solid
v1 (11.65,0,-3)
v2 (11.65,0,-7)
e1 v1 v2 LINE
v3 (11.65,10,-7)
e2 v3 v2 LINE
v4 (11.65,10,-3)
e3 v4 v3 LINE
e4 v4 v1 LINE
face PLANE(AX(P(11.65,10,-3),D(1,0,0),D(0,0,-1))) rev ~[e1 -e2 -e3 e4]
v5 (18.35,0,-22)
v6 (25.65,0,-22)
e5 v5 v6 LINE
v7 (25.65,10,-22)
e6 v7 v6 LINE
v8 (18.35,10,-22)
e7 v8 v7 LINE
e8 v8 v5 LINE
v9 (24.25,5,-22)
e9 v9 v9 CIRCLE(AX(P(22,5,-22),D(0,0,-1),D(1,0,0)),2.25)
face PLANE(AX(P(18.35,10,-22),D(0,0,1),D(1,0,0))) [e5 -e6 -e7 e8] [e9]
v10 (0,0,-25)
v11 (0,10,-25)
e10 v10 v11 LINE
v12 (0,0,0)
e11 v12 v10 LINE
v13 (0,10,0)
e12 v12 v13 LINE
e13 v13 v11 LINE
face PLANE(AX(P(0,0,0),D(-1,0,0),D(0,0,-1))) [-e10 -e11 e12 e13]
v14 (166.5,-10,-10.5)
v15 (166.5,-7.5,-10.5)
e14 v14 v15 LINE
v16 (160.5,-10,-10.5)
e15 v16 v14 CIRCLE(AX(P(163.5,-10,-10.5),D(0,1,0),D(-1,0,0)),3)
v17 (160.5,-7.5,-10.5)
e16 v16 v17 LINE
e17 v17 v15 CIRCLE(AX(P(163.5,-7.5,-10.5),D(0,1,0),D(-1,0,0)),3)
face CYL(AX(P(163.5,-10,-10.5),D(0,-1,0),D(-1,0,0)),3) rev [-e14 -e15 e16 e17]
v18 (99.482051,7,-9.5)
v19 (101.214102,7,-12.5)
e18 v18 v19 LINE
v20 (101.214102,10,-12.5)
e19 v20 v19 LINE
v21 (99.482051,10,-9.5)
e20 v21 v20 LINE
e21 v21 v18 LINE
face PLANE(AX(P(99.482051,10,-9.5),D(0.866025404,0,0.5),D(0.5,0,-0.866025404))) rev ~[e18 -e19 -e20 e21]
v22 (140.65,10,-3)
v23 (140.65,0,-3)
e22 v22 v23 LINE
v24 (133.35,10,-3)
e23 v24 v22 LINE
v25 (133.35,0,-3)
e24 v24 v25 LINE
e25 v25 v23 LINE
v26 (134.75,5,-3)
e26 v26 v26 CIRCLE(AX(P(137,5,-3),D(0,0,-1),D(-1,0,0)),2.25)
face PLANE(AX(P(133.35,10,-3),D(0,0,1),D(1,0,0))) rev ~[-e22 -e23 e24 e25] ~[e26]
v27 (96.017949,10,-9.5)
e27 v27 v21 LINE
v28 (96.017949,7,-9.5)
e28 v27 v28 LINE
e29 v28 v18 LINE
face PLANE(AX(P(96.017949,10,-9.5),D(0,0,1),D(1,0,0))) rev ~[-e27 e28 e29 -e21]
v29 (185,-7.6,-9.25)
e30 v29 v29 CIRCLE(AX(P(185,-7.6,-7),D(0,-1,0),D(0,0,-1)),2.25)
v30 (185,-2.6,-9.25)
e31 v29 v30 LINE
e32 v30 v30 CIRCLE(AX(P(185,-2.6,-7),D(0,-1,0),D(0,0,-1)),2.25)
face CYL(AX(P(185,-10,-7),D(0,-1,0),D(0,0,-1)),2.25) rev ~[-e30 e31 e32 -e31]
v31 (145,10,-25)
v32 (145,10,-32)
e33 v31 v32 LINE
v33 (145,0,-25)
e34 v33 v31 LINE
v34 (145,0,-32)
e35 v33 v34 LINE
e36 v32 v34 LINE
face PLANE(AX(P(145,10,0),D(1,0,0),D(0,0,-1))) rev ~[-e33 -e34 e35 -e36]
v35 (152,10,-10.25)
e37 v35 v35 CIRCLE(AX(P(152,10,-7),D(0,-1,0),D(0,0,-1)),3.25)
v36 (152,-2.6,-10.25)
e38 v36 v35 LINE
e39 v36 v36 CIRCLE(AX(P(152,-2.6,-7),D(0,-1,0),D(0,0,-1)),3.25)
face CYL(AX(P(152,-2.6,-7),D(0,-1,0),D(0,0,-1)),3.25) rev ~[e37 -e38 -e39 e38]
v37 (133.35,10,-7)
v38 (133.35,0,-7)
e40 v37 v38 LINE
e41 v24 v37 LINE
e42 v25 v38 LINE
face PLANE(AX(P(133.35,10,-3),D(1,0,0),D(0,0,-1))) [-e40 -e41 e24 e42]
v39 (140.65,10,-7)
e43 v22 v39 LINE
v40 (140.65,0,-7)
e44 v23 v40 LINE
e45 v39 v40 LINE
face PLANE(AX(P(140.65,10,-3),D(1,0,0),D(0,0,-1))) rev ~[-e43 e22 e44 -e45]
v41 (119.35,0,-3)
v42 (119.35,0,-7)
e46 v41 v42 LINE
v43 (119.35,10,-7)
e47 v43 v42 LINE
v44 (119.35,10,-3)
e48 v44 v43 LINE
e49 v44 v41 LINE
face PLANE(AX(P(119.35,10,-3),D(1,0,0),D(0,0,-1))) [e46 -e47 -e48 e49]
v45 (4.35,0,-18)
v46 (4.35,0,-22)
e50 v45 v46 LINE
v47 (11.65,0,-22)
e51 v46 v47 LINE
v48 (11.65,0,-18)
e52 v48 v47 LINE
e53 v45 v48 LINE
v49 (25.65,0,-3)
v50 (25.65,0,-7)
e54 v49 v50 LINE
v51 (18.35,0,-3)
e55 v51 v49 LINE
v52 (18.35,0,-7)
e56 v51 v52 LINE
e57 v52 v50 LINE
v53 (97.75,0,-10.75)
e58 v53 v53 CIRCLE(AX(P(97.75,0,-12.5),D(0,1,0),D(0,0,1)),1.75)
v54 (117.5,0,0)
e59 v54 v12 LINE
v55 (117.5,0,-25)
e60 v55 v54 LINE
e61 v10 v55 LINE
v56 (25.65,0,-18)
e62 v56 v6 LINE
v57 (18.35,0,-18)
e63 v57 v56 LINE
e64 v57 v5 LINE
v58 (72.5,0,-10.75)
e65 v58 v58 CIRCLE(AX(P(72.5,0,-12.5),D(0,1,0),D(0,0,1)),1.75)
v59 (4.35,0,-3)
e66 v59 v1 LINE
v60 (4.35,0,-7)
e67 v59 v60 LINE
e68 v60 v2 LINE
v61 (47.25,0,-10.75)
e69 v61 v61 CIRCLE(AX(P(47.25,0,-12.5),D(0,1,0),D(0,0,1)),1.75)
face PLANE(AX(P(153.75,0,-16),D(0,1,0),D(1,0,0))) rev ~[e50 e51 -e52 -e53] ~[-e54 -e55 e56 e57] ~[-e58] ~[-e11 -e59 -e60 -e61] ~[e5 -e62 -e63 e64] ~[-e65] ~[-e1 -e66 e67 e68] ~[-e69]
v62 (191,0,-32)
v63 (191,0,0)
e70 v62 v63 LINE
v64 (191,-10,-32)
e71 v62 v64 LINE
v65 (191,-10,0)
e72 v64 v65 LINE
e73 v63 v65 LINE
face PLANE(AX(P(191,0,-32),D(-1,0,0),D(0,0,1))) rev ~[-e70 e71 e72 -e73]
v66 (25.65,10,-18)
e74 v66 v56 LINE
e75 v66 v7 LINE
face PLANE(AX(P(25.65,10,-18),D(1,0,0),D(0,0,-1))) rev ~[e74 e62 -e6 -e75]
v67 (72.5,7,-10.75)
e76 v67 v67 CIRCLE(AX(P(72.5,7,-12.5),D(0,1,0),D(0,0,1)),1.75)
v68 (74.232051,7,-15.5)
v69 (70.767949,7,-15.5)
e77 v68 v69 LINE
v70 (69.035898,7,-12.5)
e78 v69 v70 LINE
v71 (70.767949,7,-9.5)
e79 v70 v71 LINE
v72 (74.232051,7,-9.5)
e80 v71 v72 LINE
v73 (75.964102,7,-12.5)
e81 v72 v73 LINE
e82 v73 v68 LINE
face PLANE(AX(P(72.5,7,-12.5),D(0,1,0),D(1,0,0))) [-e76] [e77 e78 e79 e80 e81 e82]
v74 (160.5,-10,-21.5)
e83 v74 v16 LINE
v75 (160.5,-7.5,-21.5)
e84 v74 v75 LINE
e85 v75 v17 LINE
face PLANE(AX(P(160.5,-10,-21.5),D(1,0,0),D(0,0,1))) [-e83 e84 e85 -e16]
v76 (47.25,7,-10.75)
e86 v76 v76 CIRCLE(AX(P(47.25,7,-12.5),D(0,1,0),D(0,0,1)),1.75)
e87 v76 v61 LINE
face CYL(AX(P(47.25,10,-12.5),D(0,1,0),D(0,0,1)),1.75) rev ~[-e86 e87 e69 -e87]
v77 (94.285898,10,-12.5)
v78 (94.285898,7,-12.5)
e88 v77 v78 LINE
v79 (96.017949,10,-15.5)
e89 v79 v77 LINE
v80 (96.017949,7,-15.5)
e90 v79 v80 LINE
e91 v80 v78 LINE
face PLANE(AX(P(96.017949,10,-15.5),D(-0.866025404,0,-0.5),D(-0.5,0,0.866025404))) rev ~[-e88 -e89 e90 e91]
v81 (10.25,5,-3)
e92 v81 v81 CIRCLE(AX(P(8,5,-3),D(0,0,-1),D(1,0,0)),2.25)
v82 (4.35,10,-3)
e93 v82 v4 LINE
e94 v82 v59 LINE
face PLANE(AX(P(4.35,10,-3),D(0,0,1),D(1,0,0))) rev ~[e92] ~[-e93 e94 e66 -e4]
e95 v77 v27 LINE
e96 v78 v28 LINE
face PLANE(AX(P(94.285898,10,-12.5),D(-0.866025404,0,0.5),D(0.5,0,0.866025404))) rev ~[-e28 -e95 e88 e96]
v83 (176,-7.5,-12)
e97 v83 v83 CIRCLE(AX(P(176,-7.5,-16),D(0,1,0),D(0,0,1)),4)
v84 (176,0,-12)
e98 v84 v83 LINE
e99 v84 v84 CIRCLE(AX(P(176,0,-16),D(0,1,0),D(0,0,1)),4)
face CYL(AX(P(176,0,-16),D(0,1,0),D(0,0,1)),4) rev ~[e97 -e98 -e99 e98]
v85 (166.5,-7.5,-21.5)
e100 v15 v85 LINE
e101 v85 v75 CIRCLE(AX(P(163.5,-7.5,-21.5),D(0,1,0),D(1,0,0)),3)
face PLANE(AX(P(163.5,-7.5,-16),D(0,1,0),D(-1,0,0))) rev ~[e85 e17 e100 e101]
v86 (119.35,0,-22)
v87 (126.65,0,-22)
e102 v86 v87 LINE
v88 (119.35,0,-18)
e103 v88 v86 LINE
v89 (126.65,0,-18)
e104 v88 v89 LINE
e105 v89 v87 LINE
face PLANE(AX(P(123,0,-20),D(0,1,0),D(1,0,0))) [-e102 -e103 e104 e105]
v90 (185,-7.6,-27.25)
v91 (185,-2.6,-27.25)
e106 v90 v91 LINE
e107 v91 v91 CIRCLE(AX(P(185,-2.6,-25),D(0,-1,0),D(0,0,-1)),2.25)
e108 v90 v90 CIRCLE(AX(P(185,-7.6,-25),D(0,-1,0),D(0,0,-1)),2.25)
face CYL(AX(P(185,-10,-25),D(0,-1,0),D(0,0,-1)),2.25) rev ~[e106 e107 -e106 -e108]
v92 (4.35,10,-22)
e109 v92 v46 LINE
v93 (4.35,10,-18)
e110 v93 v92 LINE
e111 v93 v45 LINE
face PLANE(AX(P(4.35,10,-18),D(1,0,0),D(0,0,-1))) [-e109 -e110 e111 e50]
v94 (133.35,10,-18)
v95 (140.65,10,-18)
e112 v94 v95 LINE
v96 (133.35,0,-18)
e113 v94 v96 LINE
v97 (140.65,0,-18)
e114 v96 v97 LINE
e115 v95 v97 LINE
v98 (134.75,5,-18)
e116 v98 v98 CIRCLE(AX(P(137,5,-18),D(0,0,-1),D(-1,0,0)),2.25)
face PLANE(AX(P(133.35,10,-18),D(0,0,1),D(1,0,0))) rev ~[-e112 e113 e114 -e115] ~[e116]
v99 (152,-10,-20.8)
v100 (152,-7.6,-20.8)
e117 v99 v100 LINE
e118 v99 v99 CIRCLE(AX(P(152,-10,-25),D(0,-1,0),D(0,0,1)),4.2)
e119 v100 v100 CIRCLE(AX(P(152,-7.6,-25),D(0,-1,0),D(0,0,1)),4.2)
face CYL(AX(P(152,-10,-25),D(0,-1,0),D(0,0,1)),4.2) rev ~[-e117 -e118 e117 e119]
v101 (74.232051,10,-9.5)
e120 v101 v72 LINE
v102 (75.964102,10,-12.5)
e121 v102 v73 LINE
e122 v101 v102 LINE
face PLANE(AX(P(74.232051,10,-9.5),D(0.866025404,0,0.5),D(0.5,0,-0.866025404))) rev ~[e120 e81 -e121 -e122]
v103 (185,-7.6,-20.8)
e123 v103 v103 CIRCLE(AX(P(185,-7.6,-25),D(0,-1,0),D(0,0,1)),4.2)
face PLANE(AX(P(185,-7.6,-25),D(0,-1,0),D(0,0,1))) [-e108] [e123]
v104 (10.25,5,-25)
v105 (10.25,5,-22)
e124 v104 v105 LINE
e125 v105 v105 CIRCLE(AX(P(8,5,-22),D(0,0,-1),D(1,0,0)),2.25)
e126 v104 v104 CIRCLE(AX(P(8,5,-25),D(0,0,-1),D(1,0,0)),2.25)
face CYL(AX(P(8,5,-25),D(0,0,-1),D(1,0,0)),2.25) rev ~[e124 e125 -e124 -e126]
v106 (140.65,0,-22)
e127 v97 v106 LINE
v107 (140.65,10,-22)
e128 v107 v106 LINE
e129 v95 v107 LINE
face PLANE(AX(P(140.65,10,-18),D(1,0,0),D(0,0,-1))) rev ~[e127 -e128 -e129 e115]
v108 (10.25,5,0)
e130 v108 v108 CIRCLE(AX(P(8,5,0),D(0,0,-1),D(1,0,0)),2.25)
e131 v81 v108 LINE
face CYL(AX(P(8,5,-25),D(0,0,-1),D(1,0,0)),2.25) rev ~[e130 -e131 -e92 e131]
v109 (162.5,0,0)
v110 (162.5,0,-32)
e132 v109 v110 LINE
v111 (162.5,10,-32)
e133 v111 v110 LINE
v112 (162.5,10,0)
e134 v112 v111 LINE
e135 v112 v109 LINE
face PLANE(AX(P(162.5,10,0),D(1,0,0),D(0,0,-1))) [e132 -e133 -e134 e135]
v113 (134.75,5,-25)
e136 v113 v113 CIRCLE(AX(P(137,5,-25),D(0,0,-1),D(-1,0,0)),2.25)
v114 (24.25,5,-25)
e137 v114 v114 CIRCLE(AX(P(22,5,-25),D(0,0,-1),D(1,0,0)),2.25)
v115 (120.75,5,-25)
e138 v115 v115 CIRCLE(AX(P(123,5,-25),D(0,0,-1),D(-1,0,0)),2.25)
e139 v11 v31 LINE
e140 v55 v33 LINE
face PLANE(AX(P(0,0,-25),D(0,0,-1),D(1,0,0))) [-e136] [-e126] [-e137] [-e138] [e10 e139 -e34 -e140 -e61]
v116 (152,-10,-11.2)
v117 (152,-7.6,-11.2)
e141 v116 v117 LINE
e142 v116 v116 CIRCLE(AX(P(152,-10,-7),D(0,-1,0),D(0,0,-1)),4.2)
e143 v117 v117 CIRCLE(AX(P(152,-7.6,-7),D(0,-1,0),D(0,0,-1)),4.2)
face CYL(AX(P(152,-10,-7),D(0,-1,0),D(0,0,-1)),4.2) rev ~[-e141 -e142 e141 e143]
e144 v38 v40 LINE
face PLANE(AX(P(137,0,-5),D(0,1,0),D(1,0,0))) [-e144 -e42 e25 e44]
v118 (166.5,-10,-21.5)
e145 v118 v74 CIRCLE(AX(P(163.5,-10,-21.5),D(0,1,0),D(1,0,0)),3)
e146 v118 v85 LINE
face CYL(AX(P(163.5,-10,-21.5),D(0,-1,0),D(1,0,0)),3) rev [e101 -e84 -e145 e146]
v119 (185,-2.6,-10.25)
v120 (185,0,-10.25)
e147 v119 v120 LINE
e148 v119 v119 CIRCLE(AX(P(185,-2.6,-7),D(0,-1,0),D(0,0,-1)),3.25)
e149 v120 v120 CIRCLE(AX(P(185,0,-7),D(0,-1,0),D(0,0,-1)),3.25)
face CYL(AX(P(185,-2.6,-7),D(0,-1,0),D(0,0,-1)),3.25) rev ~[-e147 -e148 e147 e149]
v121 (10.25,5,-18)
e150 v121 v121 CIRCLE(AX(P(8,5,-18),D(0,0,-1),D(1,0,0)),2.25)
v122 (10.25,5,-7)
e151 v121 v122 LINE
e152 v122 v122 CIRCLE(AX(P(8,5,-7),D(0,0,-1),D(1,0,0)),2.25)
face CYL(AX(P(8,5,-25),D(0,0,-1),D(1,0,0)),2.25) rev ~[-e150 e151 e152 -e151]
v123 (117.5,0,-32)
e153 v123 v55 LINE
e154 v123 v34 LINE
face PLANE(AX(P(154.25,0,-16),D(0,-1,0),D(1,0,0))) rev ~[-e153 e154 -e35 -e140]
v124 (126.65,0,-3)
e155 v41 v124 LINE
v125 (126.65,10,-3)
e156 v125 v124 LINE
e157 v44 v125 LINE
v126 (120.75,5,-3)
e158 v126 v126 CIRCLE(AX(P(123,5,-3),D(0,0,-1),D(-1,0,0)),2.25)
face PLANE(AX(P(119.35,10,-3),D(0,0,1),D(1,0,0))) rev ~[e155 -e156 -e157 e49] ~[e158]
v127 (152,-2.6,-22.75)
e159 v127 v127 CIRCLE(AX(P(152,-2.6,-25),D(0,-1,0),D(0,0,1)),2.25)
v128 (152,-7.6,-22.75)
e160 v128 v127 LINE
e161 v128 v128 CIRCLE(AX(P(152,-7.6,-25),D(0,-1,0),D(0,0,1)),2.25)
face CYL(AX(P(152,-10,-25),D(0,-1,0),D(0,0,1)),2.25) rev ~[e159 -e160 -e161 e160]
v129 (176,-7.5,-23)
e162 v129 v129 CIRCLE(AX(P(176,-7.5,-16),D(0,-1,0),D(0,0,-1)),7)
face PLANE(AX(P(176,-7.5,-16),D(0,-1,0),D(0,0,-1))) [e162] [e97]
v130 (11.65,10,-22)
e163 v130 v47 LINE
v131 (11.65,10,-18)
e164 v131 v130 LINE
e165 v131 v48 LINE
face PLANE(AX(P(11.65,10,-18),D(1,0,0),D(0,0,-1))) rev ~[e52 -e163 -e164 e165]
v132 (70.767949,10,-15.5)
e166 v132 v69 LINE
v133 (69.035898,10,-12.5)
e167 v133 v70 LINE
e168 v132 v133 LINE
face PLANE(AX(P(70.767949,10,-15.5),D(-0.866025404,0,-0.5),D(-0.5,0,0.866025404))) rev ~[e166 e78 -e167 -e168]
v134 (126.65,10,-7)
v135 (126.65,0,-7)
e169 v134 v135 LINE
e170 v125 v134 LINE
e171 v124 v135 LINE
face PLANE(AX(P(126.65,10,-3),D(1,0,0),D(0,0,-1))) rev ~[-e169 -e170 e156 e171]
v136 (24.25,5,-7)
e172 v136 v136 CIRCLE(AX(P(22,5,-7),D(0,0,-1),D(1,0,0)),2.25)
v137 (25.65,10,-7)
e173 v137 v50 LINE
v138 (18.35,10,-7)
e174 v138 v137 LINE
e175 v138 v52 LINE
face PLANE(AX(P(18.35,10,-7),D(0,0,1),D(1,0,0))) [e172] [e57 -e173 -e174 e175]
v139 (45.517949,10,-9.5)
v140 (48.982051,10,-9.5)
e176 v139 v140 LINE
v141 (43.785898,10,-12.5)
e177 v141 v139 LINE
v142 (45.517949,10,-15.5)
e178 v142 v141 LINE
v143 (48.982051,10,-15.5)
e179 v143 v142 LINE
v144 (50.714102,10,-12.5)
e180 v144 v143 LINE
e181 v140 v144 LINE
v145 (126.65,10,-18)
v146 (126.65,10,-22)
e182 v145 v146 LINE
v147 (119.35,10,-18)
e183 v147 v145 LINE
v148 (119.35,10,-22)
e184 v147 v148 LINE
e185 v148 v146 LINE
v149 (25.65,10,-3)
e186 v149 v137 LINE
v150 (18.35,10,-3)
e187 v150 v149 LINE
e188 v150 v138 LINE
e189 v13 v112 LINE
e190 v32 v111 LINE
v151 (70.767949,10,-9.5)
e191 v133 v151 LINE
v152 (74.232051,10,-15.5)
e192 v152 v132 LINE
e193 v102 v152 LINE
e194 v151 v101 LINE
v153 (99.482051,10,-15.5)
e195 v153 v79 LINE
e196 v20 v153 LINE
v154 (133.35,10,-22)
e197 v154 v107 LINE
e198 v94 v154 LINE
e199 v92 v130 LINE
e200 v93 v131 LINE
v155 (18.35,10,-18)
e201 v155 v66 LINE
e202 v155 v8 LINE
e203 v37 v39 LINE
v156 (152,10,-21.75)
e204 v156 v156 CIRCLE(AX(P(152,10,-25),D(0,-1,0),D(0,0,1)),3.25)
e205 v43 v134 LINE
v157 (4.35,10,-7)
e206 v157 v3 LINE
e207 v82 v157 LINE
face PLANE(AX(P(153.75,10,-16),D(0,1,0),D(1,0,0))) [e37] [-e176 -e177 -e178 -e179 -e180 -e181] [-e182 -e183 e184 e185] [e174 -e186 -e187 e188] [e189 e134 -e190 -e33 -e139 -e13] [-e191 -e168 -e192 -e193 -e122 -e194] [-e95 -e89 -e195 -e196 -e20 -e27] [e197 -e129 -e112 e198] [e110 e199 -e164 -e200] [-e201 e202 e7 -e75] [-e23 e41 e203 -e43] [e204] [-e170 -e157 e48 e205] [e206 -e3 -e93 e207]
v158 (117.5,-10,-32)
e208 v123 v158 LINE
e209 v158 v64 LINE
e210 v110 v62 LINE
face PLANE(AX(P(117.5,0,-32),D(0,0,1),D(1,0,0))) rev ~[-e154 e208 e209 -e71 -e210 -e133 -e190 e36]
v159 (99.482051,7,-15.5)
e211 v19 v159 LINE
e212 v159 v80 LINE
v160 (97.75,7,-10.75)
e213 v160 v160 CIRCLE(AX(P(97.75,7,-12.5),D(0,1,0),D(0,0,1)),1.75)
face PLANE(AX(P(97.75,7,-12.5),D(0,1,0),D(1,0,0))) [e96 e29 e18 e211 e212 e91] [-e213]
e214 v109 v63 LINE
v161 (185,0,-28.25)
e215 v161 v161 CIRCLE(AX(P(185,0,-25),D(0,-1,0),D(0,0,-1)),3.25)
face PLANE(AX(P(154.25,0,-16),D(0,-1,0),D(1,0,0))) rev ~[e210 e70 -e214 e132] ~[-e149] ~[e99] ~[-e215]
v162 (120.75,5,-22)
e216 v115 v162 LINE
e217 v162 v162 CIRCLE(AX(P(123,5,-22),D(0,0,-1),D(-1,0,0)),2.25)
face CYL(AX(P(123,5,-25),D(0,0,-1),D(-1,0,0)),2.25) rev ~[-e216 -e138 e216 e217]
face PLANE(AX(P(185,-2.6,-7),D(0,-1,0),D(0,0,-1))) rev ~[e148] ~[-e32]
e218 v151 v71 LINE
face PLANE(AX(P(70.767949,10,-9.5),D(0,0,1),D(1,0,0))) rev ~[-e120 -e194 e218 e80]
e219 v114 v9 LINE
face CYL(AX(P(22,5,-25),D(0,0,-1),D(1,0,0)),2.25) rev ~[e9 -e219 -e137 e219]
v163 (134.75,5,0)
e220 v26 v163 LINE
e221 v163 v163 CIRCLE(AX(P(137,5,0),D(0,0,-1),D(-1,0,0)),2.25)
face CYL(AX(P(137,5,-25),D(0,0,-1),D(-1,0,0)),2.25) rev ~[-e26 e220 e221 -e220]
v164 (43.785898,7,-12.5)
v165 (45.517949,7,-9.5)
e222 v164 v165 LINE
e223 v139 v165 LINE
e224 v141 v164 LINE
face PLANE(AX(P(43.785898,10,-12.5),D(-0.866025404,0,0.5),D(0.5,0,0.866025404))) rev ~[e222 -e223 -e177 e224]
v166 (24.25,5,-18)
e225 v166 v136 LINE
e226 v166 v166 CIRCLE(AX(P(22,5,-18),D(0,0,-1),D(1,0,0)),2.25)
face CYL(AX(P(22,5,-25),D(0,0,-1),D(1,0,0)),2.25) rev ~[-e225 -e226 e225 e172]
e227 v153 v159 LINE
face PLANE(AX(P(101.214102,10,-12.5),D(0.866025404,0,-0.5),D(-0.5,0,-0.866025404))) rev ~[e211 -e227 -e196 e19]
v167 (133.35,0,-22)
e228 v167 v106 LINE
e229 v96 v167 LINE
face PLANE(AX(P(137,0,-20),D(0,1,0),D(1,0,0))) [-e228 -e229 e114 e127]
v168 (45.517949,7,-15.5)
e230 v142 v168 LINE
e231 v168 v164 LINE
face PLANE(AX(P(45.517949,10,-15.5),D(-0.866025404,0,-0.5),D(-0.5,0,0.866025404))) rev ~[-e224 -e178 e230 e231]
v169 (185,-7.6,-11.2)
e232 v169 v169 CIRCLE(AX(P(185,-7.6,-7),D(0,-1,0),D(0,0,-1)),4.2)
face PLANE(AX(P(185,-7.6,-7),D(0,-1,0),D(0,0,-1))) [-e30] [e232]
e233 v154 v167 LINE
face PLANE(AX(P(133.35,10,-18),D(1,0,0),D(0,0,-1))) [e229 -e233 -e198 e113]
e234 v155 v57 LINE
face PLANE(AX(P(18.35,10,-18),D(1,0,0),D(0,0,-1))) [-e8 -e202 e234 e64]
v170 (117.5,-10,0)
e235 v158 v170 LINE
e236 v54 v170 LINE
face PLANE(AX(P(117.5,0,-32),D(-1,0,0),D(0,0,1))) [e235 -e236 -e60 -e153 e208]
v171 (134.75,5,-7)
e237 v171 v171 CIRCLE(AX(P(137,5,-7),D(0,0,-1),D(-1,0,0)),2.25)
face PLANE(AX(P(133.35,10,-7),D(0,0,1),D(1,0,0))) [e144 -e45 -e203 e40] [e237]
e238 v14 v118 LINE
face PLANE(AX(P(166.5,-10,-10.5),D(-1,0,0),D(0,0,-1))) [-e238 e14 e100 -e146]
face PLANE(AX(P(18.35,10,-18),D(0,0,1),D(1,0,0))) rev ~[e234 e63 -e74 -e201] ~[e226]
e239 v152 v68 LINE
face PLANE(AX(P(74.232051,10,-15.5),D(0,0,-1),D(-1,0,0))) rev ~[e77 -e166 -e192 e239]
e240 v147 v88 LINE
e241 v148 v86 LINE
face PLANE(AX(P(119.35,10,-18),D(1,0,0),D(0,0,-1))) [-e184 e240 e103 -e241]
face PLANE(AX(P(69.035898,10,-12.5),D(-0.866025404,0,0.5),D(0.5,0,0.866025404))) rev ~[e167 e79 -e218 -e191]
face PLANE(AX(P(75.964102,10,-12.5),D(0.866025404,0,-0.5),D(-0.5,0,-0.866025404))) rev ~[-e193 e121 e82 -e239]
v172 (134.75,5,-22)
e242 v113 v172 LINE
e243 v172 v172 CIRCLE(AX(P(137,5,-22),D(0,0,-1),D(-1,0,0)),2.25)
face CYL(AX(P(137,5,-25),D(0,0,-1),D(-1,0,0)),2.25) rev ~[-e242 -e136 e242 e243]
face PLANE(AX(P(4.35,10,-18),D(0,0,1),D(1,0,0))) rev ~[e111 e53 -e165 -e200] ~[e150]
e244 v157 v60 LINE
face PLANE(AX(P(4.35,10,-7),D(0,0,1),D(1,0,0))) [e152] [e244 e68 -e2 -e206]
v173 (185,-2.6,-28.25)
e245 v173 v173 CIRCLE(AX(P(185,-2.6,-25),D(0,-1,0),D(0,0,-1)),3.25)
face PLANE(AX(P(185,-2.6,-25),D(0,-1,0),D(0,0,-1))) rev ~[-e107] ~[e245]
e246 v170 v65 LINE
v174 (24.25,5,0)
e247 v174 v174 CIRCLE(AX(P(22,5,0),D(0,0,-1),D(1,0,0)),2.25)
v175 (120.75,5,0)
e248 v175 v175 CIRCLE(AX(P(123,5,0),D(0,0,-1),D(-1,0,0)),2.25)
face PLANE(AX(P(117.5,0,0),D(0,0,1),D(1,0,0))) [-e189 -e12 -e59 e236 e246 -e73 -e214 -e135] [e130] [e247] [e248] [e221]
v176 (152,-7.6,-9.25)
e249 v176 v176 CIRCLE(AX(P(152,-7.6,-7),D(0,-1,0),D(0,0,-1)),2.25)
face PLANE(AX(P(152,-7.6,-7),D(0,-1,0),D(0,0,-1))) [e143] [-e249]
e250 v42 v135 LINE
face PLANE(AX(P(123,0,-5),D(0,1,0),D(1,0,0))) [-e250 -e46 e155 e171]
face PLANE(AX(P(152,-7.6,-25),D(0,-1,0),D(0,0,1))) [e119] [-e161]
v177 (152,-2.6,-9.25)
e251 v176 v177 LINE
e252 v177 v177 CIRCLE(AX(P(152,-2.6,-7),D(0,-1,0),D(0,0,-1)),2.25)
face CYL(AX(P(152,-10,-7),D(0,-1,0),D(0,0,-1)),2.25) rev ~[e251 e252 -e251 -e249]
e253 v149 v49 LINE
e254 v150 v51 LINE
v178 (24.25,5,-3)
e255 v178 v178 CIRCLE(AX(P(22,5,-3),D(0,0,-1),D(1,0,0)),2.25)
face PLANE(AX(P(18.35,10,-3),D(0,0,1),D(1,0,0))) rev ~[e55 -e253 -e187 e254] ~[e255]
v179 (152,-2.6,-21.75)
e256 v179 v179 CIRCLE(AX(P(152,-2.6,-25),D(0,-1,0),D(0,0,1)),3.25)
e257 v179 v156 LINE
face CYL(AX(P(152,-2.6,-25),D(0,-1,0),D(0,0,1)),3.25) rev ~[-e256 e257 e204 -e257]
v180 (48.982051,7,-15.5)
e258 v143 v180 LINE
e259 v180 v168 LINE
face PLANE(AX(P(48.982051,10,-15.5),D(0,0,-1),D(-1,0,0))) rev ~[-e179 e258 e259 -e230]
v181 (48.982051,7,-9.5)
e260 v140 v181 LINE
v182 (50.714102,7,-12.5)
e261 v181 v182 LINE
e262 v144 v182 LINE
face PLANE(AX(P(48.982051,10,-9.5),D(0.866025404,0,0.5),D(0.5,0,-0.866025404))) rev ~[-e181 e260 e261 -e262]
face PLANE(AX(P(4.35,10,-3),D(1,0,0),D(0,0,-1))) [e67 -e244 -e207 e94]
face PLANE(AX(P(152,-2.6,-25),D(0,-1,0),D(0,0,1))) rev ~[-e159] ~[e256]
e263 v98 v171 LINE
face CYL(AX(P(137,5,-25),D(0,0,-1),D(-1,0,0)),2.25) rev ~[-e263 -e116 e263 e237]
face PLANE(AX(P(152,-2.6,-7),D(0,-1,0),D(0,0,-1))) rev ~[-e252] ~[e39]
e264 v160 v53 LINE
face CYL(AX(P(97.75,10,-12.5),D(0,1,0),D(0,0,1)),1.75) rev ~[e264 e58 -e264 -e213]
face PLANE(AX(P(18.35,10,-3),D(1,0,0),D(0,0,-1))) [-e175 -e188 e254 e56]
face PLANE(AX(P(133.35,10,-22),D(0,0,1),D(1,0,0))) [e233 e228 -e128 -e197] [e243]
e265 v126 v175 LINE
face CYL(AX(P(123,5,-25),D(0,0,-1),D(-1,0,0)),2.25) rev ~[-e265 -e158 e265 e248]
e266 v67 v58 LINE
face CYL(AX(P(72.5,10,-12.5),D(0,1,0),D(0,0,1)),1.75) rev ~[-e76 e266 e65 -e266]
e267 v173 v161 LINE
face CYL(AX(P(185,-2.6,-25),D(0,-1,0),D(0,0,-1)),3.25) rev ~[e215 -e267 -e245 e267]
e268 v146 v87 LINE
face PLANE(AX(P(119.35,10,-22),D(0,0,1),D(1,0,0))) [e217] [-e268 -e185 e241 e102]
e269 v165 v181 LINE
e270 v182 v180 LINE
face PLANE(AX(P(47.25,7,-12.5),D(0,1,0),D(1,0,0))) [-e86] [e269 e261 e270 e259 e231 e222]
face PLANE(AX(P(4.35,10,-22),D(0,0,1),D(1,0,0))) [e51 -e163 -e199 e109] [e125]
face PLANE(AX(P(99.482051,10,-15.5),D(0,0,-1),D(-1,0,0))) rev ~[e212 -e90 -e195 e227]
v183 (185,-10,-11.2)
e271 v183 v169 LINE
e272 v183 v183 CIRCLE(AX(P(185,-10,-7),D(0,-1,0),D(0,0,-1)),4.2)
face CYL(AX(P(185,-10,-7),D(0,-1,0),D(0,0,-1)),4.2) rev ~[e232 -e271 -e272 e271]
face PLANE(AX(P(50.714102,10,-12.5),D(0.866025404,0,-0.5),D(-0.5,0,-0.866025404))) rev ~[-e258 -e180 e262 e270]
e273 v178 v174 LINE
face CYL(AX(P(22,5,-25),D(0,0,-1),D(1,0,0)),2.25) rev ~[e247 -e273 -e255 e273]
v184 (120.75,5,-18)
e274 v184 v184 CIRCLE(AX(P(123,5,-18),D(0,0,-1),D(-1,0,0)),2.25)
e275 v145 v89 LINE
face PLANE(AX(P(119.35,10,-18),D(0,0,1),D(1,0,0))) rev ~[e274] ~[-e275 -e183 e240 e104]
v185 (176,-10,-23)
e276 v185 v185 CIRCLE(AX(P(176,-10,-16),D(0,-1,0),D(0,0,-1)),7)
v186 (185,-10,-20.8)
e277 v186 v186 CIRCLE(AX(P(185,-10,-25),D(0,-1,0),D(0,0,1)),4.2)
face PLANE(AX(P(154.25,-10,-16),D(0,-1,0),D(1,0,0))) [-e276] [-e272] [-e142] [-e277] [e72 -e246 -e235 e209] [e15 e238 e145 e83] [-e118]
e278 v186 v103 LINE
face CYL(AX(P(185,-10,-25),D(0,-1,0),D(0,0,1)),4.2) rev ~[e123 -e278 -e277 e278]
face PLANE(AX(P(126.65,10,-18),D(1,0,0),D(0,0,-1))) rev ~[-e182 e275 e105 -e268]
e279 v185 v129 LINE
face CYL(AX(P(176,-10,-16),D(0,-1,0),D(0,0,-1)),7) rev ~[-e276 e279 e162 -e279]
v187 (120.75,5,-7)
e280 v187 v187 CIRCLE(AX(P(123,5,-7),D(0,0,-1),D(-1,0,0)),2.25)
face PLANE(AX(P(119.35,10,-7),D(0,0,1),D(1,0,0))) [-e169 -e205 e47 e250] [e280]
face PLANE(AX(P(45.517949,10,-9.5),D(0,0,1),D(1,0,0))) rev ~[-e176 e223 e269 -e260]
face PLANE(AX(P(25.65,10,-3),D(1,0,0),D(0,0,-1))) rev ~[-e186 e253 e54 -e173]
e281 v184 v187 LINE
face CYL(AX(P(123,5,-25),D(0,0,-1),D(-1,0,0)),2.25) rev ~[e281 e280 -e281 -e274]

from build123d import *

# Parameters (mm, degrees)
SKETCH1_W           = 145
SKETCH1_H           = 25
BOSS_EXTRUDE1_DEPTH = 10
SKETCH2_W           = 17.5
SKETCH2_H           = 32
BOSS_EXTRUDE2_DEPTH = 10
SKETCH4_W           = 73.5
SKETCH4_H           = 32
BOSS_EXTRUDE3_DEPTH = 10
CUT_EXTRUDE1_REACH  = 196.692
SKETCH5_R           = 2.25
SKETCH6_R           = 4.2
CUT_EXTRUDE2_DEPTH  = 2.4
CUT_EXTRUDE4_REACH  = 201.46
CUT_EXTRUDE4_START  = -5
SKETCH7_R           = 3.25
SKETCH8_R           = 2.25
CUT_EXTRUDE5_DEPTH  = 193.888568868
SKETCH9_W           = 7.3
SKETCH9_H           = 4
CUT_EXTRUDE6_DEPTH  = 10
CUT_EXTRUDE7_REACH  = 195.92
SKETCH10_R          = 4
SKETCH11_R          = 7
CUT_EXTRUDE8_DEPTH  = 2.5
CUT_EXTRUDE9_REACH  = 196.692
SKETCH12_R          = 1.75
CUT_EXTRUDE10_DEPTH = 3


with BuildPart() as part:
    # Sketch1 → Boss-Extrude1 (new body)
    with BuildSketch(Plane(origin=(0, 0, 0), x_dir=(1, 0, 0), z_dir=(0, 1, 0))):
        with Locations((72.5, 12.5)):
            Rectangle(SKETCH1_W, SKETCH1_H)
    extrude(amount=BOSS_EXTRUDE1_DEPTH)

    # Sketch2 → Boss-Extrude2 (add)
    with BuildSketch(Plane(origin=(0, 10, 0), x_dir=(1, 0, 0), z_dir=(0, 1, 0))):
        with Locations((153.75, 16)):
            Rectangle(SKETCH2_W, SKETCH2_H)
    extrude(amount=-BOSS_EXTRUDE2_DEPTH)

    # Sketch4 → Boss-Extrude3 (add)
    with BuildSketch(Plane.XZ):
        with Locations((154.25, -16)):
            Rectangle(SKETCH4_W, SKETCH4_H)
    extrude(amount=BOSS_EXTRUDE3_DEPTH)

    # Sketch5 → Cut-Extrude1 (cut, up to next)
    with BuildSketch(Plane.XZ.offset(10), mode=Mode.PRIVATE) as cut_extrude1_sk1:
        with Locations(Location((185, -7, 0), (0, 0, 270))):
            Circle(SKETCH5_R)
    cut_extrude1_tool1 = extrude(cut_extrude1_sk1.sketch, amount=-CUT_EXTRUDE1_REACH, mode=Mode.PRIVATE) & part.part
    # Sketch5 → Cut-Extrude1 (cut, up to next)
    with BuildSketch(Plane.XZ.offset(10), mode=Mode.PRIVATE) as cut_extrude1_sk2:
        with Locations(Location((152, -7, 0), (0, 0, 270))):
            Circle(SKETCH5_R)
    cut_extrude1_tool2 = extrude(cut_extrude1_sk2.sketch, amount=-CUT_EXTRUDE1_REACH, mode=Mode.PRIVATE) & part.part
    # Sketch5 → Cut-Extrude1 (cut, up to next)
    with BuildSketch(Plane.XZ.offset(10), mode=Mode.PRIVATE) as cut_extrude1_sk3:
        with Locations(Location((185, -25, 0), (0, 0, 270))):
            Circle(SKETCH5_R)
    cut_extrude1_tool3 = extrude(cut_extrude1_sk3.sketch, amount=-CUT_EXTRUDE1_REACH, mode=Mode.PRIVATE) & part.part
    # Sketch5 → Cut-Extrude1 (cut, up to next)
    with BuildSketch(Plane.XZ.offset(10), mode=Mode.PRIVATE) as cut_extrude1_sk4:
        with Locations(Location((152, -25, 0), (0, 0, 90))):
            Circle(SKETCH5_R)
    cut_extrude1_tool4 = extrude(cut_extrude1_sk4.sketch, amount=-CUT_EXTRUDE1_REACH, mode=Mode.PRIVATE) & part.part
    add(cut_extrude1_tool1.solids().sort_by_distance((185, -10, -7))[0], mode=Mode.SUBTRACT)
    add(cut_extrude1_tool2.solids().sort_by_distance((152, -10, -7))[0], mode=Mode.SUBTRACT)
    add(cut_extrude1_tool3.solids().sort_by_distance((185, -10, -25))[0], mode=Mode.SUBTRACT)
    add(cut_extrude1_tool4.solids().sort_by_distance((152, -10, -25))[0], mode=Mode.SUBTRACT)

    # Sketch6 → Cut-Extrude2 (cut)
    with BuildSketch(Plane.XZ.offset(10)):
        with Locations(Location((152, -7, 0), (0, 0, 270))):
            Circle(SKETCH6_R)
        with Locations(Location((185, -7, 0), (0, 0, 270))):
            Circle(SKETCH6_R)
        with Locations(Location((185, -25, 0), (0, 0, 90))):
            Circle(SKETCH6_R)
        with Locations(Location((152, -25, 0), (0, 0, 90))):
            Circle(SKETCH6_R)
    extrude(amount=-CUT_EXTRUDE2_DEPTH, mode=Mode.SUBTRACT)

    # Sketch7 → Cut-Extrude4 (cut, up to next)
    with BuildSketch(Plane.XZ.offset(7.6).offset(CUT_EXTRUDE4_START), mode=Mode.PRIVATE) as cut_extrude4_sk1:
        with Locations(Location((152, -7, 0), (0, 0, 270))):
            Circle(SKETCH7_R)
    cut_extrude4_tool1 = extrude(cut_extrude4_sk1.sketch, amount=-CUT_EXTRUDE4_REACH, mode=Mode.PRIVATE) & part.part
    # Sketch7 → Cut-Extrude4 (cut, up to next)
    with BuildSketch(Plane.XZ.offset(7.6).offset(CUT_EXTRUDE4_START), mode=Mode.PRIVATE) as cut_extrude4_sk2:
        with Locations(Location((185, -7, 0), (0, 0, 270))):
            Circle(SKETCH7_R)
    cut_extrude4_tool2 = extrude(cut_extrude4_sk2.sketch, amount=-CUT_EXTRUDE4_REACH, mode=Mode.PRIVATE) & part.part
    # Sketch7 → Cut-Extrude4 (cut, up to next)
    with BuildSketch(Plane.XZ.offset(7.6).offset(CUT_EXTRUDE4_START), mode=Mode.PRIVATE) as cut_extrude4_sk3:
        with Locations(Location((185, -25, 0), (0, 0, 270))):
            Circle(SKETCH7_R)
    cut_extrude4_tool3 = extrude(cut_extrude4_sk3.sketch, amount=-CUT_EXTRUDE4_REACH, mode=Mode.PRIVATE) & part.part
    # Sketch7 → Cut-Extrude4 (cut, up to next)
    with BuildSketch(Plane.XZ.offset(7.6).offset(CUT_EXTRUDE4_START), mode=Mode.PRIVATE) as cut_extrude4_sk4:
        with Locations(Location((152, -25, 0), (0, 0, 90))):
            Circle(SKETCH7_R)
    cut_extrude4_tool4 = extrude(cut_extrude4_sk4.sketch, amount=-CUT_EXTRUDE4_REACH, mode=Mode.PRIVATE) & part.part
    add(cut_extrude4_tool1.solids().sort_by_distance((152, -2.6, -7))[0], mode=Mode.SUBTRACT)
    add(cut_extrude4_tool2.solids().sort_by_distance((185, -2.6, -7))[0], mode=Mode.SUBTRACT)
    add(cut_extrude4_tool3.solids().sort_by_distance((185, -2.6, -25))[0], mode=Mode.SUBTRACT)
    add(cut_extrude4_tool4.solids().sort_by_distance((152, -2.6, -25))[0], mode=Mode.SUBTRACT)

    # Sketch8 → Cut-Extrude5 (cut, through all)
    with BuildSketch(Plane(origin=(0, 0, -25), x_dir=(-1, 0, 0), z_dir=(0, 0, -1))):
        with Locations((-137, 5)):
            Circle(SKETCH8_R)
        with Locations((-123, 5)):
            Circle(SKETCH8_R)
        with Locations(Location((-22, 5, 0), (0, 0, 180))):
            Circle(SKETCH8_R)
        with Locations(Location((-8, 5, 0), (0, 0, 180))):
            Circle(SKETCH8_R)
    extrude(amount=-CUT_EXTRUDE5_DEPTH, mode=Mode.SUBTRACT)

    # Sketch9 → Cut-Extrude6 (cut)
    with BuildSketch(Plane(origin=(0, 10, 0), x_dir=(1, 0, 0), z_dir=(0, 1, 0))):
        with Locations((137, 20)):
            Rectangle(SKETCH9_W, SKETCH9_H)
        with Locations((137, 5)):
            Rectangle(SKETCH9_W, SKETCH9_H)
        with Locations((123, 5)):
            Rectangle(SKETCH9_W, SKETCH9_H)
        with Locations((123, 20)):
            Rectangle(SKETCH9_W, SKETCH9_H)
        with Locations((8, 20)):
            Rectangle(SKETCH9_W, SKETCH9_H)
        with Locations((22, 20)):
            Rectangle(SKETCH9_W, SKETCH9_H)
        with Locations((22, 5)):
            Rectangle(SKETCH9_W, SKETCH9_H)
        with Locations((8, 5)):
            Rectangle(SKETCH9_W, SKETCH9_H)
    extrude(amount=-CUT_EXTRUDE6_DEPTH, mode=Mode.SUBTRACT)

    # Sketch10 → Cut-Extrude7 (cut, up to next)
    with BuildSketch(Plane(origin=(0, 0, 0), x_dir=(1, 0, 0), z_dir=(0, 1, 0)), mode=Mode.PRIVATE) as cut_extrude7_sk1:
        with Locations(Location((176, 16, 0), (0, 0, 270))):
            Circle(SKETCH10_R)
    cut_extrude7_tool1 = extrude(cut_extrude7_sk1.sketch, amount=-CUT_EXTRUDE7_REACH, mode=Mode.PRIVATE) & part.part
    add(cut_extrude7_tool1.solids().sort_by_distance((176, 0, -16))[0], mode=Mode.SUBTRACT)

    # Sketch11 → Cut-Extrude8 (cut)
    with BuildSketch(Plane.XZ.offset(10)):
        with Locations(Location((176, -16, 0), (0, 0, 270))):
            Circle(SKETCH11_R)
        with BuildLine():
            Line((160.5, -21.5), (160.5, -10.5))
            ThreePointArc((160.5, -10.5), (163.5, -7.5), (166.5, -10.5))
            Line((166.5, -10.5), (166.5, -21.5))
            ThreePointArc((166.5, -21.5), (163.5, -24.5), (160.5, -21.5))
        make_face()
    extrude(amount=-CUT_EXTRUDE8_DEPTH, mode=Mode.SUBTRACT)

    # Sketch12 → Cut-Extrude9 (cut, up to next)
    with BuildSketch(Plane(origin=(0, 10, 0), x_dir=(1, 0, 0), z_dir=(0, 1, 0)), mode=Mode.PRIVATE) as cut_extrude9_sk1:
        with Locations(Location((47.25, 12.5, 0), (0, 0, 270))):
            Circle(SKETCH12_R)
    cut_extrude9_tool1 = extrude(cut_extrude9_sk1.sketch, amount=-CUT_EXTRUDE9_REACH, mode=Mode.PRIVATE) & part.part
    # Sketch12 → Cut-Extrude9 (cut, up to next)
    with BuildSketch(Plane(origin=(0, 10, 0), x_dir=(1, 0, 0), z_dir=(0, 1, 0)), mode=Mode.PRIVATE) as cut_extrude9_sk2:
        with Locations(Location((72.5, 12.5, 0), (0, 0, 270))):
            Circle(SKETCH12_R)
    cut_extrude9_tool2 = extrude(cut_extrude9_sk2.sketch, amount=-CUT_EXTRUDE9_REACH, mode=Mode.PRIVATE) & part.part
    # Sketch12 → Cut-Extrude9 (cut, up to next)
    with BuildSketch(Plane(origin=(0, 10, 0), x_dir=(1, 0, 0), z_dir=(0, 1, 0)), mode=Mode.PRIVATE) as cut_extrude9_sk3:
        with Locations(Location((97.75, 12.5, 0), (0, 0, 270))):
            Circle(SKETCH12_R)
    cut_extrude9_tool3 = extrude(cut_extrude9_sk3.sketch, amount=-CUT_EXTRUDE9_REACH, mode=Mode.PRIVATE) & part.part
    add(cut_extrude9_tool1.solids().sort_by_distance((47.25, 10, -12.5))[0], mode=Mode.SUBTRACT)
    add(cut_extrude9_tool2.solids().sort_by_distance((72.5, 10, -12.5))[0], mode=Mode.SUBTRACT)
    add(cut_extrude9_tool3.solids().sort_by_distance((97.75, 10, -12.5))[0], mode=Mode.SUBTRACT)

    # Sketch13 → Cut-Extrude10 (cut)
    with BuildSketch(Plane(origin=(0, 10, 0), x_dir=(1, 0, 0), z_dir=(0, 1, 0))):
        Polygon((75.964101615, 12.5), (74.232050808, 15.5), (70.767949192, 15.5), (69.035898385, 12.5), (70.767949192, 9.5), (74.232050808, 9.5), align=None)
        Polygon((50.714101615, 12.5), (48.982050808, 15.5), (45.517949192, 15.5), (43.785898385, 12.5), (45.517949192, 9.5), (48.982050808, 9.5), align=None)
        Polygon((101.214101615, 12.5), (99.482050808, 15.5), (96.017949192, 15.5), (94.285898385, 12.5), (96.017949192, 9.5), (99.482050808, 9.5), align=None)
    extrude(amount=-CUT_EXTRUDE10_DEPTH, mode=Mode.SUBTRACT)


solid = part.part
